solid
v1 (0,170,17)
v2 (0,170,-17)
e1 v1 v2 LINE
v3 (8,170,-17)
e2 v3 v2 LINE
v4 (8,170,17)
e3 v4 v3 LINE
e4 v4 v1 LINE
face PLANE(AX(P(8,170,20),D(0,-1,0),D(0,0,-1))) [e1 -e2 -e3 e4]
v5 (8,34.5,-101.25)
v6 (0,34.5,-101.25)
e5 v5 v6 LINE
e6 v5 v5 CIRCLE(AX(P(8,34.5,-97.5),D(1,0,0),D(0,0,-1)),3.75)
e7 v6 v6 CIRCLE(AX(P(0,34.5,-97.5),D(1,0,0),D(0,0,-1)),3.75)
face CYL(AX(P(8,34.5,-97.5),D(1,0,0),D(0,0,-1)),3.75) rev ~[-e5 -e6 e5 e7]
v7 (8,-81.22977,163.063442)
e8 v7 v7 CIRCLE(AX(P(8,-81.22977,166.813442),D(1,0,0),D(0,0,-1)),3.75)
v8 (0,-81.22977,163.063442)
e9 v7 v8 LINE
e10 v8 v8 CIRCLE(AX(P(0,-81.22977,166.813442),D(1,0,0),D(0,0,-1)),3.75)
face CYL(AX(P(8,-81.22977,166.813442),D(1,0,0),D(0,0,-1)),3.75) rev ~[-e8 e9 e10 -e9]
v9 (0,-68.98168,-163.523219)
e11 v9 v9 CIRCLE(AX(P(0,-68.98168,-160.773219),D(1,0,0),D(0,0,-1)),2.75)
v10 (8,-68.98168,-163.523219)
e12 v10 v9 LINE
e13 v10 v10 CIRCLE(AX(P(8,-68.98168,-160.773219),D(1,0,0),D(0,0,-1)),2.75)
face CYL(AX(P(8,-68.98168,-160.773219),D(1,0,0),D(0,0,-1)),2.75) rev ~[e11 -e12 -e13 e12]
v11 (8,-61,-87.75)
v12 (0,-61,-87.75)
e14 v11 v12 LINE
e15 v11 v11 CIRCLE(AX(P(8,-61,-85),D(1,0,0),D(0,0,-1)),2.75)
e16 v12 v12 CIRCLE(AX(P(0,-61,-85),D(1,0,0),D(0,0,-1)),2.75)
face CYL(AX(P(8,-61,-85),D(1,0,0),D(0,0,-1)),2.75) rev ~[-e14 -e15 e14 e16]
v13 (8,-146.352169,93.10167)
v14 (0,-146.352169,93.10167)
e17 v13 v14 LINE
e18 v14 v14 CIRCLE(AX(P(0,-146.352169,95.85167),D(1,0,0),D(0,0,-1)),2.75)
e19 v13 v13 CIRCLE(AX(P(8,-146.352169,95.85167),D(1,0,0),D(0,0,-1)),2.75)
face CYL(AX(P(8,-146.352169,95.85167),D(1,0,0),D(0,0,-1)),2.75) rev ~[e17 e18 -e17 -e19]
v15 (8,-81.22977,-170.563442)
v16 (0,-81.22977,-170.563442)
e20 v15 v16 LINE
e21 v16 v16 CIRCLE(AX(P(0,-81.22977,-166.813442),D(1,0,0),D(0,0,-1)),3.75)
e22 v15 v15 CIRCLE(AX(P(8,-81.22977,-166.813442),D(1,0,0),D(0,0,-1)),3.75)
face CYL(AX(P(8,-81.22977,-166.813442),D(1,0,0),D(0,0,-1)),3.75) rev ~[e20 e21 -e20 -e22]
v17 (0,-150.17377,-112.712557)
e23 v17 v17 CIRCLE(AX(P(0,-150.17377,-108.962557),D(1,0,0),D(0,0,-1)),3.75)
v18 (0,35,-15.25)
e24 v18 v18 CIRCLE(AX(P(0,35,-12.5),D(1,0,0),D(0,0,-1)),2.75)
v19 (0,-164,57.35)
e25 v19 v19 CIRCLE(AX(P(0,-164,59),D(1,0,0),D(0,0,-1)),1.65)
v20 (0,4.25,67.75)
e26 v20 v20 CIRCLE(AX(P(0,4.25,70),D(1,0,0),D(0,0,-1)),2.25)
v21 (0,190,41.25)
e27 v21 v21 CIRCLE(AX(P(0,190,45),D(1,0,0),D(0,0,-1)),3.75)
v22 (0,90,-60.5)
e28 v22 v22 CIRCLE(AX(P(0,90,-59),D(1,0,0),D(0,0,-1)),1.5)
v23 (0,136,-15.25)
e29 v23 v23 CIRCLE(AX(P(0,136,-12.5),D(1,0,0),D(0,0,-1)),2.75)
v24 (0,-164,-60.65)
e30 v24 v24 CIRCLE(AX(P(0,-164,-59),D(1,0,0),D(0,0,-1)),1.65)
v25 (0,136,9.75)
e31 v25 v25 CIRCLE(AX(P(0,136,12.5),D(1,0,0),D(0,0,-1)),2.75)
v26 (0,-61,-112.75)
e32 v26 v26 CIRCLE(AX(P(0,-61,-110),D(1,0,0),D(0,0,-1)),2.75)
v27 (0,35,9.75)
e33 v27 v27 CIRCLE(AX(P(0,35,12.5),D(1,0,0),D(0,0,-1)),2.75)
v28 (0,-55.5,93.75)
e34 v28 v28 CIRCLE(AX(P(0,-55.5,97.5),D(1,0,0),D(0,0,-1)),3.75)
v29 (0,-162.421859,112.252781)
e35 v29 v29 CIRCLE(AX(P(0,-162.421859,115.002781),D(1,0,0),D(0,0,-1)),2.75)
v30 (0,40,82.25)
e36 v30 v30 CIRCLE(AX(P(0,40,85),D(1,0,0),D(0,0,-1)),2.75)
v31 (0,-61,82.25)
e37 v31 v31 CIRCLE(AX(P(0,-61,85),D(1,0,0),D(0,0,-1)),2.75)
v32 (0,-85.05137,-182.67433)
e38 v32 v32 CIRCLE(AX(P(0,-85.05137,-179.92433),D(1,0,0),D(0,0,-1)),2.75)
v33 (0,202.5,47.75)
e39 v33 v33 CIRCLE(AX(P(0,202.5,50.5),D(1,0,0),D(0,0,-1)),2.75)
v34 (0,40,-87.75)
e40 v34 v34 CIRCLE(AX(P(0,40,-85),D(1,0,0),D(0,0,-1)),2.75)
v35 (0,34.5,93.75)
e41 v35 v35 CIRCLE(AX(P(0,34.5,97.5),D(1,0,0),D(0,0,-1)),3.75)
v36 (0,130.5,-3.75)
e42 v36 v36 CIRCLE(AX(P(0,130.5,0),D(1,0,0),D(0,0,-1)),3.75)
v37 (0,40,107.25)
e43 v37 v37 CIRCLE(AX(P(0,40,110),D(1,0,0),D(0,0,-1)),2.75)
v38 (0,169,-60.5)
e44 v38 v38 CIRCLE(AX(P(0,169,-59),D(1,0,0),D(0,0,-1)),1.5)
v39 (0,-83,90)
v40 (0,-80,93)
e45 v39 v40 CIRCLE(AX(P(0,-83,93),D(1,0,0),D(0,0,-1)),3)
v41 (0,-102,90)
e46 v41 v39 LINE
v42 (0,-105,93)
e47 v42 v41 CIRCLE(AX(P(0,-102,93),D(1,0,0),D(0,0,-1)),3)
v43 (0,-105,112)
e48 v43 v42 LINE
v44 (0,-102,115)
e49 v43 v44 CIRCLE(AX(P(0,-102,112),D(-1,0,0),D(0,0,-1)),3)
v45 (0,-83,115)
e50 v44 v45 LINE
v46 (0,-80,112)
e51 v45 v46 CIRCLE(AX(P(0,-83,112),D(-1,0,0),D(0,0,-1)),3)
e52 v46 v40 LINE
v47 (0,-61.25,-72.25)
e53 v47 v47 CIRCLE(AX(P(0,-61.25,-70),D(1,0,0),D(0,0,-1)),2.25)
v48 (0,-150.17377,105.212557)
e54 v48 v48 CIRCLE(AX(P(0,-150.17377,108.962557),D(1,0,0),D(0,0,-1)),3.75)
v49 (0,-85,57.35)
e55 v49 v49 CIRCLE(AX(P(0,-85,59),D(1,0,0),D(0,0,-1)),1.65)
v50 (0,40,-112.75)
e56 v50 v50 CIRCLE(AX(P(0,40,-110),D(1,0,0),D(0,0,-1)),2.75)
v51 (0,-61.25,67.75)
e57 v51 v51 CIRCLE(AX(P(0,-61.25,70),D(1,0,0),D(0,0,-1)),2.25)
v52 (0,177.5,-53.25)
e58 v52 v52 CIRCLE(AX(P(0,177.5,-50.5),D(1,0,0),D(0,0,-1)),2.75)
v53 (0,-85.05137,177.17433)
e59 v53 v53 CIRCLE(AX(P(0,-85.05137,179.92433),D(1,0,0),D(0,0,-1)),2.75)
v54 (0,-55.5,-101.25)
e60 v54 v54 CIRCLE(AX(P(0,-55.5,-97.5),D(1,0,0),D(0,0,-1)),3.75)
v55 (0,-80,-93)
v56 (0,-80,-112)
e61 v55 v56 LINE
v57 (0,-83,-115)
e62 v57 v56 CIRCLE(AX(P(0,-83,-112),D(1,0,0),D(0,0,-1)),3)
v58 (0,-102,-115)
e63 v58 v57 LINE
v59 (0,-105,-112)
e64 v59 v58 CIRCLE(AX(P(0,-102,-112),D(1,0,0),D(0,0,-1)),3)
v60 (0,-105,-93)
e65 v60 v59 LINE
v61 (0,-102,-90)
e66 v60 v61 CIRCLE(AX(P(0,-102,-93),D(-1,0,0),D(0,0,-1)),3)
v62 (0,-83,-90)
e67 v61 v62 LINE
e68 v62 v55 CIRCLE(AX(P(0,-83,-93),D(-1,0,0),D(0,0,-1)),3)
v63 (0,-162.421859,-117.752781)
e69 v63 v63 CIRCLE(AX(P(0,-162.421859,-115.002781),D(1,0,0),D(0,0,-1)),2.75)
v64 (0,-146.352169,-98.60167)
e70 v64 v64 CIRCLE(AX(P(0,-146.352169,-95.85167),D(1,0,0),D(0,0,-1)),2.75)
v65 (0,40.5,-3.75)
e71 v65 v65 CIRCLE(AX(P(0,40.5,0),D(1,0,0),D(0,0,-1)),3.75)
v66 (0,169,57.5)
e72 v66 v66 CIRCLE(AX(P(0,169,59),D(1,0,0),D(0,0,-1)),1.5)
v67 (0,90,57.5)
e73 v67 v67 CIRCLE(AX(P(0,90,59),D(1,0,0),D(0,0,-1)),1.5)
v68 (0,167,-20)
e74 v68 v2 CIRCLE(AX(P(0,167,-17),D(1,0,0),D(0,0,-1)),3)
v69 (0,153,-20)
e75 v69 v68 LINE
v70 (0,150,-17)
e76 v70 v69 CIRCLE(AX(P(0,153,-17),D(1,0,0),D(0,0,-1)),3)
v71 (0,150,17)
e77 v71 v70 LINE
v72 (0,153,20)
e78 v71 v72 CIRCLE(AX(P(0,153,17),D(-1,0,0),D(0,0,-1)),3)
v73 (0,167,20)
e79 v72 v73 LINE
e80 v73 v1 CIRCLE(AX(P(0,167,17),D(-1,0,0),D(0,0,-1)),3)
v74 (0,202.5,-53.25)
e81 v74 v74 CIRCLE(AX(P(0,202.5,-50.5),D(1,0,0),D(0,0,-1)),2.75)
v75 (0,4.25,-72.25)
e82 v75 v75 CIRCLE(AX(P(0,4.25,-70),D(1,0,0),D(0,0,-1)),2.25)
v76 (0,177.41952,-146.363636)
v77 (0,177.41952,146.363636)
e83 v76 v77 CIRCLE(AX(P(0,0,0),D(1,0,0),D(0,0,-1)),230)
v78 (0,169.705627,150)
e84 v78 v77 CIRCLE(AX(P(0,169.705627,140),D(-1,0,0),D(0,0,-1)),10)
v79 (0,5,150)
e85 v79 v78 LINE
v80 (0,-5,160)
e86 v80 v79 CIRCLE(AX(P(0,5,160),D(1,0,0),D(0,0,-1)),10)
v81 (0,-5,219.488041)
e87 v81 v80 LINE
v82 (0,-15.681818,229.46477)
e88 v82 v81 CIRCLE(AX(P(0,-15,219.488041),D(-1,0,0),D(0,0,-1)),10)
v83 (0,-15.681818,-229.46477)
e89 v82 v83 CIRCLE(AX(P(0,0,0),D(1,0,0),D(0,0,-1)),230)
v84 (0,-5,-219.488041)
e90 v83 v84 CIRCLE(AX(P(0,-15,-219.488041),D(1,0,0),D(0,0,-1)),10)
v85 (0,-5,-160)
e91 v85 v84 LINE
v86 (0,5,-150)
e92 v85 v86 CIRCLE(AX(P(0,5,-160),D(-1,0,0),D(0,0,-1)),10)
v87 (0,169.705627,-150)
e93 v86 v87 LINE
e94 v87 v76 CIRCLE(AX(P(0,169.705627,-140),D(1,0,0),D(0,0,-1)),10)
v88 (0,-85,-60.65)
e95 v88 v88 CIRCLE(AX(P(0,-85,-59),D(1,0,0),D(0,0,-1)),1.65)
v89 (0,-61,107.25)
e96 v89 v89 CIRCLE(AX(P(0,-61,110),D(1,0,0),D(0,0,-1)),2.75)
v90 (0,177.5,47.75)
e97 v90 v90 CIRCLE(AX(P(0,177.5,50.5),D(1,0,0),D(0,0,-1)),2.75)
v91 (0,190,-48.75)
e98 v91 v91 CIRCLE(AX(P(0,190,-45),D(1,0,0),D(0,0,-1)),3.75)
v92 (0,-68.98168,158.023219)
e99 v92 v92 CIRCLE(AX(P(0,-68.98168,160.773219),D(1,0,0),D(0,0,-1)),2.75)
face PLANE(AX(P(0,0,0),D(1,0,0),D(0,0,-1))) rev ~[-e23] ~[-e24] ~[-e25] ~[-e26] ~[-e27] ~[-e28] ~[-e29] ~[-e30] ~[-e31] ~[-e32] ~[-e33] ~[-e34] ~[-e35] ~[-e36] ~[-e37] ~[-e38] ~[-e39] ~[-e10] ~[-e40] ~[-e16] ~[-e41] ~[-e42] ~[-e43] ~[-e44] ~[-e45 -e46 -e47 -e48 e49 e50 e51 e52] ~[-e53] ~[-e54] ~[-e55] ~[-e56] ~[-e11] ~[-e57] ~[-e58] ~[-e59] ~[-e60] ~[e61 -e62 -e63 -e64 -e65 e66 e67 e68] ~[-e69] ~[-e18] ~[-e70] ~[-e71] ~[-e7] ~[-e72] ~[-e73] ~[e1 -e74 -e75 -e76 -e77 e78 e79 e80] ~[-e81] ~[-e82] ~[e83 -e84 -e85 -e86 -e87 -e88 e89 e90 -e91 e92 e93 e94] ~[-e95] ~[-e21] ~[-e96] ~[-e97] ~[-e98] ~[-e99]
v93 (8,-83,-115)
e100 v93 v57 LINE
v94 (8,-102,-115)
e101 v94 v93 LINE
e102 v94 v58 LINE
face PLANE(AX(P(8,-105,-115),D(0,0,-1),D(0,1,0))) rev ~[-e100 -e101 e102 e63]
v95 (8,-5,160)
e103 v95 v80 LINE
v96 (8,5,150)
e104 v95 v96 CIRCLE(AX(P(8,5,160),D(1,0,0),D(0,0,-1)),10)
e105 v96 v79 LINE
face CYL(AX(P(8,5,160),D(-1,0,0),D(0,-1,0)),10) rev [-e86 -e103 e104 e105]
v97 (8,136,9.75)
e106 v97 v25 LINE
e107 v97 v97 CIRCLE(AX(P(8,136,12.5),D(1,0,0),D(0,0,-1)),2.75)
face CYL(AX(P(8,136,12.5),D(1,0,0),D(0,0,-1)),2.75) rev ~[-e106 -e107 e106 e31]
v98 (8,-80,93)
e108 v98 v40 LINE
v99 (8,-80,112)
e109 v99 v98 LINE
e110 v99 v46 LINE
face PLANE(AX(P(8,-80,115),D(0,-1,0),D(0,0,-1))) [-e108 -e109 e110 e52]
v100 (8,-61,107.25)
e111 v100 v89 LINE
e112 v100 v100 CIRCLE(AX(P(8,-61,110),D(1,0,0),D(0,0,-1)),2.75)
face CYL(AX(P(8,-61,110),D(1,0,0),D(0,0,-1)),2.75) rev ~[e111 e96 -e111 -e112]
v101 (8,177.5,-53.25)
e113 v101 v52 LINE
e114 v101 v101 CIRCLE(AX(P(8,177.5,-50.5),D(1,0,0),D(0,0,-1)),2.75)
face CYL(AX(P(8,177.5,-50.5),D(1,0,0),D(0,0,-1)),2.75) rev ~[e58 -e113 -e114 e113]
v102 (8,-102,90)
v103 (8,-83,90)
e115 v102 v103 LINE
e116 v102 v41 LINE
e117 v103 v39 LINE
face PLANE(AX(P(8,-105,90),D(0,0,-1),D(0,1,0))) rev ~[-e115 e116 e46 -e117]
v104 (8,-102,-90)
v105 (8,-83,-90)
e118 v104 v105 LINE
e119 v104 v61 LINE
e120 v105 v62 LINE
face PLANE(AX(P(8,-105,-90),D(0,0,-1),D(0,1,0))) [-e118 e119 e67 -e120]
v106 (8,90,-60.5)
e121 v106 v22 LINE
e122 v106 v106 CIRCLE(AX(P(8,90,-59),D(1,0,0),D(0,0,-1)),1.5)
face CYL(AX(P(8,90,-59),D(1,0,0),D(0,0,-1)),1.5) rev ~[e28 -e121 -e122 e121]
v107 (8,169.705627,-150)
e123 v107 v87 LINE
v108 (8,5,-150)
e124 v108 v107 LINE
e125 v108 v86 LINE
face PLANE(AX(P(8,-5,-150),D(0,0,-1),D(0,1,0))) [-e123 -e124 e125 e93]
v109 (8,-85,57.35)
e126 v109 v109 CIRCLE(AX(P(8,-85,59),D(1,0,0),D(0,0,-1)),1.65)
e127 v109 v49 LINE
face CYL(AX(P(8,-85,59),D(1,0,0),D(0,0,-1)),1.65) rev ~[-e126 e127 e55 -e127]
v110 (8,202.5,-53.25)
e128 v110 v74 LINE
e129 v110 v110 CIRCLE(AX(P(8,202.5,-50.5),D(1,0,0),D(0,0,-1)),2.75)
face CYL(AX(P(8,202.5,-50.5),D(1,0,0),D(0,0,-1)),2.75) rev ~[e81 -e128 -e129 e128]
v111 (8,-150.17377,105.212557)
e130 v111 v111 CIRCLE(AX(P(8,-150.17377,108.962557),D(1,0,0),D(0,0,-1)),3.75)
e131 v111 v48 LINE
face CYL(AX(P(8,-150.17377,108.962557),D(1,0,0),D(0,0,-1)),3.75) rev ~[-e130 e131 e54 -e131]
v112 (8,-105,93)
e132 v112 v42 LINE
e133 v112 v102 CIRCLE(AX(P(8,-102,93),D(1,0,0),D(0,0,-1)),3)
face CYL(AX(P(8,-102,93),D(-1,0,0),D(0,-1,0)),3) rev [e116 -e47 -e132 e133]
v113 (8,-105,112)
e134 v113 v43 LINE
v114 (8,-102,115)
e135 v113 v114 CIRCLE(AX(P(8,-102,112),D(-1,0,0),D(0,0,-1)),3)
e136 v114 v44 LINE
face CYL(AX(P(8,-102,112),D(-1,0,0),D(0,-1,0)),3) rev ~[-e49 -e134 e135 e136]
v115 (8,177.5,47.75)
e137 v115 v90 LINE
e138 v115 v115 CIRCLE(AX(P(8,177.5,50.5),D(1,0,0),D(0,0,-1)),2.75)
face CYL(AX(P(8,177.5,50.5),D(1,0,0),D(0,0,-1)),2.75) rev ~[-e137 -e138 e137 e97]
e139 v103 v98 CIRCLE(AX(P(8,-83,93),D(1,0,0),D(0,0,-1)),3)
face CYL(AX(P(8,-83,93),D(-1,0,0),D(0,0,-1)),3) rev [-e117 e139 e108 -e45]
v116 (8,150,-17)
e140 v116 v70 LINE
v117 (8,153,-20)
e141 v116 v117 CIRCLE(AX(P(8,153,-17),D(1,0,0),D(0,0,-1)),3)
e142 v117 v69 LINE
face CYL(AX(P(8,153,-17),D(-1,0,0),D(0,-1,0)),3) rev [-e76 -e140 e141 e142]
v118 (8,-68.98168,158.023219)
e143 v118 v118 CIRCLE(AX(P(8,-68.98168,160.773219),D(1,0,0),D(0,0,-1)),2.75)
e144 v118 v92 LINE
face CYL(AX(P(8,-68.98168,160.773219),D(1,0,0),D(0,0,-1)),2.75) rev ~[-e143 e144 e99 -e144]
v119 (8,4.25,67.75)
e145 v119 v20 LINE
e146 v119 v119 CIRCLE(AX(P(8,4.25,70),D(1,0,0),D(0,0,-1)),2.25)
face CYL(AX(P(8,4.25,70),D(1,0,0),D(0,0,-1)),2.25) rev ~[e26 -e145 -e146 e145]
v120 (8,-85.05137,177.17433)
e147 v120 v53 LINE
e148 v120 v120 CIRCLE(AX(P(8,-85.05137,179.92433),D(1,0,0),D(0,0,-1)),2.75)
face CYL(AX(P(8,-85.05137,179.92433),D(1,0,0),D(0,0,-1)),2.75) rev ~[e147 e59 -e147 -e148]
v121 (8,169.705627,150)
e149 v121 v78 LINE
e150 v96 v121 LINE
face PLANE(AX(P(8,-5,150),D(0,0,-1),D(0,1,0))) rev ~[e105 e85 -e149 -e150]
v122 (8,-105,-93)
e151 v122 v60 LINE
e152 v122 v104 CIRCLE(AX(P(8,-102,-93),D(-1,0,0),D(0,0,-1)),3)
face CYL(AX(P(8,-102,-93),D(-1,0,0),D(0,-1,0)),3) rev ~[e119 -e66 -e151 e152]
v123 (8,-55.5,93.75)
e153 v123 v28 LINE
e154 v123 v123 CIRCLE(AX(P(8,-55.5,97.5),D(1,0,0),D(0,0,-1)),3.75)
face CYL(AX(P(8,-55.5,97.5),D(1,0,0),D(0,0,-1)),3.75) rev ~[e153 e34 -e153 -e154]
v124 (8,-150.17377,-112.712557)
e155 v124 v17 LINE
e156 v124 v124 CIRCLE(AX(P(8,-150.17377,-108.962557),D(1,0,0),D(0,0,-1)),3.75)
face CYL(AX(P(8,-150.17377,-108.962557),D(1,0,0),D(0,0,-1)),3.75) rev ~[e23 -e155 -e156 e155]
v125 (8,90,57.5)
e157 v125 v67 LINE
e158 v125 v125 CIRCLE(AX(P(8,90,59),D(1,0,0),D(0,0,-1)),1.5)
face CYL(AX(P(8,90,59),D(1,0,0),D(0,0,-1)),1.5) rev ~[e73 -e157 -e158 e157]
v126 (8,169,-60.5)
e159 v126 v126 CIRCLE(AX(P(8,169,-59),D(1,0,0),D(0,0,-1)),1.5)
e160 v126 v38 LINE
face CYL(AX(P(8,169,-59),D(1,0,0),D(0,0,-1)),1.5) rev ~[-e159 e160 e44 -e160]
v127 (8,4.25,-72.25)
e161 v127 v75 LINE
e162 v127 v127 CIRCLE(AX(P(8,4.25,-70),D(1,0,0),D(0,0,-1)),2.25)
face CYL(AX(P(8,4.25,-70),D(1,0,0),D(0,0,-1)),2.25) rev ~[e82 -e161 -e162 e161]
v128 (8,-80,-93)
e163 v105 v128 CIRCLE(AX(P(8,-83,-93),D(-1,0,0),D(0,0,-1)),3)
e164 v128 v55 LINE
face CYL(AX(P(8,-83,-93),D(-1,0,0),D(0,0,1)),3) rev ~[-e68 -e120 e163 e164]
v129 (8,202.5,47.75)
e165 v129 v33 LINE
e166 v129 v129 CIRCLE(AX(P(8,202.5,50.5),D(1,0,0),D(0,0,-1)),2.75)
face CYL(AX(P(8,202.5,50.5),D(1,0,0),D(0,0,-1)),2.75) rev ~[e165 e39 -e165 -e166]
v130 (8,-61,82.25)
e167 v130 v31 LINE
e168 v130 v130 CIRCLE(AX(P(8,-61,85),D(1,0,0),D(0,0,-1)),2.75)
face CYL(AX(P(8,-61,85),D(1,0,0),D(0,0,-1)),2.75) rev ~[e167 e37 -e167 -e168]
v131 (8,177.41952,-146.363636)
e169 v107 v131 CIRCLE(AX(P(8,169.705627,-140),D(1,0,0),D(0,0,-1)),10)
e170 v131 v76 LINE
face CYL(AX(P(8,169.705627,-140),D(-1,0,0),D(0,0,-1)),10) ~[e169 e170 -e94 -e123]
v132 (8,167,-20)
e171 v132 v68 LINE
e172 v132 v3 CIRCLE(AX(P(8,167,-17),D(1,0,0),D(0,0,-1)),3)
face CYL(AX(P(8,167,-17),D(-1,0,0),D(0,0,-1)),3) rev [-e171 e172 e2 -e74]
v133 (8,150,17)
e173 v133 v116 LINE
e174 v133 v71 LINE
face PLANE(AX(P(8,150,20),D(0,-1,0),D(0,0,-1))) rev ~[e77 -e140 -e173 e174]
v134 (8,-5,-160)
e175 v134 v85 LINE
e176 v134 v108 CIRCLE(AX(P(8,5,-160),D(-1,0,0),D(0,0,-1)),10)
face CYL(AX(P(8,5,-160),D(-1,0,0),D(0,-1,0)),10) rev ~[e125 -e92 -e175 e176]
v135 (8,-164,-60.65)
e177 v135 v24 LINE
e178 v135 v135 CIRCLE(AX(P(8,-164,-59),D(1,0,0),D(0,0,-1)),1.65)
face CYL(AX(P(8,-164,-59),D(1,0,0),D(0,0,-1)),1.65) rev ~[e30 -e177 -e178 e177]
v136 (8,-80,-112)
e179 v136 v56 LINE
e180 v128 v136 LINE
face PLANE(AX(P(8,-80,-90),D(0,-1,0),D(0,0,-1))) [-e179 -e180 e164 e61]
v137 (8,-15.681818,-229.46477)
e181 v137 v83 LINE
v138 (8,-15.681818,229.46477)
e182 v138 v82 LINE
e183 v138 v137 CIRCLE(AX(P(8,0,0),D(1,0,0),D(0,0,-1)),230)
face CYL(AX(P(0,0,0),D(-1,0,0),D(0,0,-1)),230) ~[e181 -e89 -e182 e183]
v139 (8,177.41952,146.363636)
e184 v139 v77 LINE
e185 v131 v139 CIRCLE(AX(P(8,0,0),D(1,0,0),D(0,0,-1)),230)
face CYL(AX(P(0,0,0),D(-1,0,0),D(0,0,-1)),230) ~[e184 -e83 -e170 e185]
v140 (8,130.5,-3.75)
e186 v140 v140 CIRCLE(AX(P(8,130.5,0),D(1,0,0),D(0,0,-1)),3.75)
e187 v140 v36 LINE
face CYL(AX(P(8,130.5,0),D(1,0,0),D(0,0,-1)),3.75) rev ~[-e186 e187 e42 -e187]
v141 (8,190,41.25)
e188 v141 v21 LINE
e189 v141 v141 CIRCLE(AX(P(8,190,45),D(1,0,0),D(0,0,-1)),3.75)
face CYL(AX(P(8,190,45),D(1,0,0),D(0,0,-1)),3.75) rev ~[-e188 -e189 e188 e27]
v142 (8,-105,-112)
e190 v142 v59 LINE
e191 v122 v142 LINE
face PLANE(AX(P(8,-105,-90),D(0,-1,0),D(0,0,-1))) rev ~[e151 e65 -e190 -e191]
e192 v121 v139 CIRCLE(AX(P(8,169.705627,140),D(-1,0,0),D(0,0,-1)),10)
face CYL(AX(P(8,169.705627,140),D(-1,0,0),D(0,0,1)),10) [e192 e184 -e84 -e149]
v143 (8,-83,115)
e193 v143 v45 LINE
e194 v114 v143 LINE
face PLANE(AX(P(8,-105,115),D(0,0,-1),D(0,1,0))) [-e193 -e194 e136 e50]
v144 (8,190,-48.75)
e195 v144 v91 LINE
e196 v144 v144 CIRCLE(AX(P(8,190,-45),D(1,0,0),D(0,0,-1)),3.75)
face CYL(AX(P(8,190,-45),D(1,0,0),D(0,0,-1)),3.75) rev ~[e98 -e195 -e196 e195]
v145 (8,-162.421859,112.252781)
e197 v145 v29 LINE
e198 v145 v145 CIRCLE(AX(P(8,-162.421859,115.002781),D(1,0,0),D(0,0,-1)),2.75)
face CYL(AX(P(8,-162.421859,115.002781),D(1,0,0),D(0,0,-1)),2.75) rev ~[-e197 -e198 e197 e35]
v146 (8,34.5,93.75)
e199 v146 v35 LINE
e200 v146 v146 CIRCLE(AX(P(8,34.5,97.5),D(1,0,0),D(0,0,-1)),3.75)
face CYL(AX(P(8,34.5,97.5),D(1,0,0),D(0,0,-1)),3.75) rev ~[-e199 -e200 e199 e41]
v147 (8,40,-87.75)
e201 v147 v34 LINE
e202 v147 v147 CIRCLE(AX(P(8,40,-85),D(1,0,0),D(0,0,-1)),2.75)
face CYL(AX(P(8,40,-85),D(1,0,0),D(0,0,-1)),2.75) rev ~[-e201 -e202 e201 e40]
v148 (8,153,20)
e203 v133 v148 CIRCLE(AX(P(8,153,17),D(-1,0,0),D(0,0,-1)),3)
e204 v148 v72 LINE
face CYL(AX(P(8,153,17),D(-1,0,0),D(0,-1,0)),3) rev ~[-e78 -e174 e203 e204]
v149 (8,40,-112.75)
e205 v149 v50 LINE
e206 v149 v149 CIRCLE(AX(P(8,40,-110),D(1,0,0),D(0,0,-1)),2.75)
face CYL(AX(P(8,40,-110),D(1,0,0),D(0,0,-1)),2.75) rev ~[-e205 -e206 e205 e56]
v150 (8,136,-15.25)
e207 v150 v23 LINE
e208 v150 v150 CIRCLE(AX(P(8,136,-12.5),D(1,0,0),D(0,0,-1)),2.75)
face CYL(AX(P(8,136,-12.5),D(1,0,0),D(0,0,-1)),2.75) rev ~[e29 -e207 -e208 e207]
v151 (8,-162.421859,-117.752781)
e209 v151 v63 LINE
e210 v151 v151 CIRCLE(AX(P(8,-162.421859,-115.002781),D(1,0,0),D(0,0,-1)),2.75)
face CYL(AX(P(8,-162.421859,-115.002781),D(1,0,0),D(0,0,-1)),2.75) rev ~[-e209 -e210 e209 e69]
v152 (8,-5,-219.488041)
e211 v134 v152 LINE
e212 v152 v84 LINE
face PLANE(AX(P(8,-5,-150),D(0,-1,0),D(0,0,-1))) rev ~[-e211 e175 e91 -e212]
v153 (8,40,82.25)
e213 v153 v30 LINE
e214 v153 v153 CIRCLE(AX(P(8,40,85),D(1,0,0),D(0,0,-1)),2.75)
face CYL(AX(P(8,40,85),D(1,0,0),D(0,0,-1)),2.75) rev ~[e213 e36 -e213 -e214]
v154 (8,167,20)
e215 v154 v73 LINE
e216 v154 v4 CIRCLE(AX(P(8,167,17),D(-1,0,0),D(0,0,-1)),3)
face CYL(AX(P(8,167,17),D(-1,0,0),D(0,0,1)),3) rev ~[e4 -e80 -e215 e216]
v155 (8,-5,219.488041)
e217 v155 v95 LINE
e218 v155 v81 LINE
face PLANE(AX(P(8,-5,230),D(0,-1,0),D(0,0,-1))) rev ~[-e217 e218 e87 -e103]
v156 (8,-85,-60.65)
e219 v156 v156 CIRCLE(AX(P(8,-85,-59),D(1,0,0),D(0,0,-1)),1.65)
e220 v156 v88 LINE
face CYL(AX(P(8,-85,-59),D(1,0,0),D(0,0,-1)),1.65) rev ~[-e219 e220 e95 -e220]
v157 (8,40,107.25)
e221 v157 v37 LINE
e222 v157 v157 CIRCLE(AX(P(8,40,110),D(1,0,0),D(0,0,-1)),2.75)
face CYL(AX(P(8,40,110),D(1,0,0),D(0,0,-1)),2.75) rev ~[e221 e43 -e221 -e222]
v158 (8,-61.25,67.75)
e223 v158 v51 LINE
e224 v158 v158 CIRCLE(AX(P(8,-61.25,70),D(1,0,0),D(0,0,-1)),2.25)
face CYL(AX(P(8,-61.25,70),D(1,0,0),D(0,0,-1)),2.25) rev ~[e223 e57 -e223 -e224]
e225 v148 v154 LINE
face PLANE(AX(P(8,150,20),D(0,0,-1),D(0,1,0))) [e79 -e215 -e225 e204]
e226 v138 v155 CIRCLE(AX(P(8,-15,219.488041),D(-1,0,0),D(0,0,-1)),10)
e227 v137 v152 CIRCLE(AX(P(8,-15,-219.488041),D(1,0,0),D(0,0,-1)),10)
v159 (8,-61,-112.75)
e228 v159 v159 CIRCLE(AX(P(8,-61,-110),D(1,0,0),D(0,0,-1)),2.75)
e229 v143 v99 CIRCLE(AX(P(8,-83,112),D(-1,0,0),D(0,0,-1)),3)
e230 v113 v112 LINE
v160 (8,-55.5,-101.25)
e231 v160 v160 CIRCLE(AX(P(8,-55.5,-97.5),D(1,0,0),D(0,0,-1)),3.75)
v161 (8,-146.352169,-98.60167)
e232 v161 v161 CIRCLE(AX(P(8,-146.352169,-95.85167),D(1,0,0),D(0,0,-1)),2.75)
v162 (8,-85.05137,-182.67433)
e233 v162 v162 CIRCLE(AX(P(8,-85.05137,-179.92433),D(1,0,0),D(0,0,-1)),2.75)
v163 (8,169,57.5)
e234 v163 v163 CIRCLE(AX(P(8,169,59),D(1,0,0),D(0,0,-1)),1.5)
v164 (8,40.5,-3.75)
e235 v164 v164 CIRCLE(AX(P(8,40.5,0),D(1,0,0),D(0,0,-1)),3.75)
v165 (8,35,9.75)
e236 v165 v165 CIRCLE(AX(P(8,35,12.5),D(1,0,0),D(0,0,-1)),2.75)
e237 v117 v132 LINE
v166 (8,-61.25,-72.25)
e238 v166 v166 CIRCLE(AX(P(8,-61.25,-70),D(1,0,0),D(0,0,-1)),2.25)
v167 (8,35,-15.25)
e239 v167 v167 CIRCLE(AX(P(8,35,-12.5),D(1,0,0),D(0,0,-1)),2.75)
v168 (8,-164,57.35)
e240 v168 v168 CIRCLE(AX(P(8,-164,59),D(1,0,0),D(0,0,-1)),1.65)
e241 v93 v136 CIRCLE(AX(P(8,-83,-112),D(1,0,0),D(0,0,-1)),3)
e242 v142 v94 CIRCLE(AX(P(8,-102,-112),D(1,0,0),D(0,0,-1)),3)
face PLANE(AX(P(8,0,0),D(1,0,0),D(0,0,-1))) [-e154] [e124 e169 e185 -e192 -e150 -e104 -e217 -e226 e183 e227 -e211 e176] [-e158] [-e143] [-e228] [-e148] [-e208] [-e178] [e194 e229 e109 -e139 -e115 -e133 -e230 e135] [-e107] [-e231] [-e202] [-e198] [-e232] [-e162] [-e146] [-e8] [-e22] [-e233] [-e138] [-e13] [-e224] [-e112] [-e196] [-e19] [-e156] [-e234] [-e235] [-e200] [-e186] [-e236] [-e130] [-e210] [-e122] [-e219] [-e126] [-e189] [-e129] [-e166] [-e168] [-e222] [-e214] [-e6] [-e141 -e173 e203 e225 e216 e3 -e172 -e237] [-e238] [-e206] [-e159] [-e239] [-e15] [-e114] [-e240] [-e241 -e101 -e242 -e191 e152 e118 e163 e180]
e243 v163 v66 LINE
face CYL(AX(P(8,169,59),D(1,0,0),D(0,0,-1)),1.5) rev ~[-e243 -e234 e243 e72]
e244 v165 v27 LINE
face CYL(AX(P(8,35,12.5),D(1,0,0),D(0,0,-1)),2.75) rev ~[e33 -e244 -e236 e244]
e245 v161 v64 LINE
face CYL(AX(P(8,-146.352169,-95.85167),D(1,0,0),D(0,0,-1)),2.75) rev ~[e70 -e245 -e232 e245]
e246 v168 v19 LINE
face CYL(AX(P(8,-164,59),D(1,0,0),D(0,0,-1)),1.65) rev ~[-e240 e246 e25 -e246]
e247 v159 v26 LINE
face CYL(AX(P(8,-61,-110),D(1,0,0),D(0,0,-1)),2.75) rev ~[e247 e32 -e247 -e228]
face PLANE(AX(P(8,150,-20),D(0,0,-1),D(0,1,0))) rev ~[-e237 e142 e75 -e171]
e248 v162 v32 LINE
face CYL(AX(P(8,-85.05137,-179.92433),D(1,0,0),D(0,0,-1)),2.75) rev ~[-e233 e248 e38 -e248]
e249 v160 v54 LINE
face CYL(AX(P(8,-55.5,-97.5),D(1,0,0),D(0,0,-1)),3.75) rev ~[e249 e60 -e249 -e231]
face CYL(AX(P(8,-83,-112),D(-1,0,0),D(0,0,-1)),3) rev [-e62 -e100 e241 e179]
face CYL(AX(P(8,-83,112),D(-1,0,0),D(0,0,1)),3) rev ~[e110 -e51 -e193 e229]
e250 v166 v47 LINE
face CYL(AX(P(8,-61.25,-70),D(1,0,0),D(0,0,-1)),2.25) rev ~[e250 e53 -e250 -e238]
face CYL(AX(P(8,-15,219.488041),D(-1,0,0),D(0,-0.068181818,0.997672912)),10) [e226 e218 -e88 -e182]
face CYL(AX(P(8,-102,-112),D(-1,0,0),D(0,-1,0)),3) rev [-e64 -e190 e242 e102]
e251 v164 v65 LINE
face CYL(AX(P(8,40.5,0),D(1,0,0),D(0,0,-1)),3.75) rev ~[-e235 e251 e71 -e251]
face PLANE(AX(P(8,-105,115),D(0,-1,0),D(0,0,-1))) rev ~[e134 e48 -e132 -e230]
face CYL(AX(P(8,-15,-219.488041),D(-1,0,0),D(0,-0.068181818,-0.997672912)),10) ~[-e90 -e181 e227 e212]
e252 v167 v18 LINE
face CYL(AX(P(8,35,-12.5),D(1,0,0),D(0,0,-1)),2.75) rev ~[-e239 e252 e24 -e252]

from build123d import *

# Parameters (mm, degrees)
SKETCH_1_R          = 230
EXTRUDE_1_DEPTH     = 8
SKETCH_3_W          = 80
SKETCH_3_H          = 200
CUT_EXTRUDE_1_DEPTH = 10
SKETCH_4_R          = 3.75
SKETCH_4_R_2        = 2.75
CUT_EXTRUDE_2_DEPTH = 10
SKETCH_6_W          = 40
SKETCH_6_H          = 20
SKETCH_6_W_2        = 25
SKETCH_6_H_2        = 25
CUT_EXTRUDE_4_DEPTH = 10
FILLET_2_R          = 10
FILLET_3_R          = 10
FILLET_4_R          = 10
SKETCH_7_R          = 2.75
SKETCH_7_R_2        = 3.75
CUT_EXTRUDE_5_DEPTH = 10
SKETCH_8_R          = 1.5
CUT_EXTRUDE_6_DEPTH = 326.005785815
SKETCH_9_R          = 2.25
CUT_EXTRUDE_7_DEPTH = 11
FILLET_5_R          = 3
SKETCH_10_R         = 1.65
CUT_EXTRUDE_8_DEPTH = 10


with BuildPart() as part:
    # 草图1 → 凸台-拉伸1 (new body)
    with BuildSketch(Plane(origin=(0, 0, 0), x_dir=(0, 0, -1), z_dir=(1, 0, 0))):
        Circle(SKETCH_1_R)
    extrude(amount=EXTRUDE_1_DEPTH)

    # 草图3 → 切除-拉伸1 (cut)
    with BuildSketch(Plane(origin=(8, 0, 0), x_dir=(0, 0, -1), z_dir=(1, 0, 0))):
        with Locations((190, 95)):
            Rectangle(SKETCH_3_W, SKETCH_3_H)
        with Locations((-190, 95)):
            Rectangle(SKETCH_3_W, SKETCH_3_H)
    extrude(amount=-CUT_EXTRUDE_1_DEPTH, mode=Mode.SUBTRACT)

    # 草图4 → 切除-拉伸2 (cut)
    with BuildSketch(Plane(origin=(8, 0, 0), x_dir=(0, 0, -1), z_dir=(1, 0, 0))):
        with Locations((166.813442197, -81.229769803)):
            Circle(SKETCH_4_R)
        with Locations((108.962557326, -150.173769684)):
            Circle(SKETCH_4_R)
        with Locations((-108.962557326, -150.173769684)):
            Circle(SKETCH_4_R)
        with Locations((-166.813442197, -81.229769803)):
            Circle(SKETCH_4_R)
        with Locations((-45, 190)):
            Circle(SKETCH_4_R)
        with Locations((45, 190)):
            Circle(SKETCH_4_R)
        with Locations((-12.5, 35)):
            Circle(SKETCH_4_R_2)
        with Locations((12.5, 35)):
            Circle(SKETCH_4_R_2)
        with Locations((-50.5, 202.5)):
            Circle(SKETCH_4_R_2)
        with Locations((50.5, 202.5)):
            Circle(SKETCH_4_R_2)
        with Locations((-50.5, 177.5)):
            Circle(SKETCH_4_R_2)
        with Locations((50.5, 177.5)):
            Circle(SKETCH_4_R_2)
        with Locations((179.92432959, -85.051370487)):
            Circle(SKETCH_4_R_2)
        with Locations((115.002781011, -162.421859242)):
            Circle(SKETCH_4_R_2)
        with Locations((160.773218512, -68.981680245)):
            Circle(SKETCH_4_R_2)
        with Locations((95.851669933, -146.352169)):
            Circle(SKETCH_4_R_2)
        with Locations((-160.773218512, -68.981680245)):
            Circle(SKETCH_4_R_2)
        with Locations((-179.92432959, -85.051370487)):
            Circle(SKETCH_4_R_2)
        with Locations((-95.851669933, -146.352169)):
            Circle(SKETCH_4_R_2)
        with Locations((-115.002781011, -162.421859242)):
            Circle(SKETCH_4_R_2)
        with Locations((12.5, 136)):
            Circle(SKETCH_4_R_2)
        with Locations((-12.5, 136)):
            Circle(SKETCH_4_R_2)
        with Locations((0, 130.5)):
            Circle(SKETCH_4_R)
        with Locations((0, 40.5)):
            Circle(SKETCH_4_R)
    extrude(amount=-CUT_EXTRUDE_2_DEPTH, mode=Mode.SUBTRACT)

    # 草图6 → 切除-拉伸4 (cut)
    with BuildSketch(Plane(origin=(8, 0, 0), x_dir=(0, 0, -1), z_dir=(1, 0, 0))):
        with Locations((0, 160)):
            Rectangle(SKETCH_6_W, SKETCH_6_H)
        with Locations((-102.5, -92.5)):
            Rectangle(SKETCH_6_W_2, SKETCH_6_H_2)
        with Locations((102.5, -92.5)):
            Rectangle(SKETCH_6_W_2, SKETCH_6_H_2)
    extrude(amount=-CUT_EXTRUDE_4_DEPTH, mode=Mode.SUBTRACT)

    # 圆角2
    fillet_2_edges = [part.edges().sort_by_distance(p)[0] for p in [
        (4, -5, 229.945645751),
    ]]
    fillet(fillet_2_edges, radius=FILLET_2_R)

    # 圆角3
    fillet_3_edges = [part.edges().sort_by_distance(p)[0] for p in [
        (4, 174.355957742, -150),
        (4, -5, -229.945645751),
        (4, 174.355957742, 150),
    ]]
    fillet(fillet_3_edges, radius=FILLET_3_R)

    # 圆角4
    fillet_4_edges = [part.edges().sort_by_distance(p)[0] for p in [
        (4, -5, -150),
        (4, -5, 150),
    ]]
    fillet(fillet_4_edges, radius=FILLET_4_R)

    # 草图7 → 切除-拉伸5 (cut)
    with BuildSketch(Plane(origin=(8, 0, 0), x_dir=(0, 0, -1), z_dir=(1, 0, 0))):
        with Locations((85, 40)):
            Circle(SKETCH_7_R)
        with Locations((110, 40)):
            Circle(SKETCH_7_R)
        with Locations((85, -61)):
            Circle(SKETCH_7_R)
        with Locations((110, -61)):
            Circle(SKETCH_7_R)
        with Locations((97.5, 34.5)):
            Circle(SKETCH_7_R_2)
        with Locations((97.5, -55.5)):
            Circle(SKETCH_7_R_2)
        with Locations((-97.5, -55.5)):
            Circle(SKETCH_7_R_2)
        with Locations((-97.5, 34.5)):
            Circle(SKETCH_7_R_2)
        with Locations((-110, -61)):
            Circle(SKETCH_7_R)
        with Locations((-85, -61)):
            Circle(SKETCH_7_R)
        with Locations((-110, 40)):
            Circle(SKETCH_7_R)
        with Locations((-85, 40)):
            Circle(SKETCH_7_R)
    extrude(amount=-CUT_EXTRUDE_5_DEPTH, mode=Mode.SUBTRACT)

    # 草图8 → 切除-拉伸6 (cut, through all)
    with BuildSketch(Plane(origin=(8, 0, 0), x_dir=(0, 0, -1), z_dir=(1, 0, 0))):
        with Locations((-59, 169)):
            Circle(SKETCH_8_R)
        with Locations((-59, 90)):
            Circle(SKETCH_8_R)
        with Locations((59, 169)):
            Circle(SKETCH_8_R)
        with Locations((59, 90)):
            Circle(SKETCH_8_R)
    extrude(amount=-CUT_EXTRUDE_6_DEPTH, mode=Mode.SUBTRACT)

    # 草图9 → 切除-拉伸7 (cut)
    with BuildSketch(Plane(origin=(8, 0, 0), x_dir=(0, 0, -1), z_dir=(1, 0, 0))):
        with Locations((70, 4.25)):
            Circle(SKETCH_9_R)
        with Locations((70, -61.25)):
            Circle(SKETCH_9_R)
        with Locations((-70, 4.25)):
            Circle(SKETCH_9_R)
        with Locations((-70, -61.25)):
            Circle(SKETCH_9_R)
    extrude(amount=-CUT_EXTRUDE_7_DEPTH, mode=Mode.SUBTRACT)

    # 圆角5
    fillet_5_edges = [part.edges().sort_by_distance(p)[0] for p in [
        (4, -105, 115),
        (4, -80, 115),
        (4, -80, 90),
        (4, -105, 90),
        (4, 150, 20),
        (4, 170, 20),
        (4, 170, -20),
        (4, 150, -20),
        (4, -105, -90),
        (4, -80, -90),
        (4, -80, -115),
        (4, -105, -115),
    ]]
    fillet(fillet_5_edges, radius=FILLET_5_R)

    # 草图10 → 切除-拉伸8 (cut)
    with BuildSketch(Plane(origin=(8, 0, 0), x_dir=(0, 0, -1), z_dir=(1, 0, 0))):
        with Locations((-59, -85)):
            Circle(SKETCH_10_R)
        with Locations((59, -85)):
            Circle(SKETCH_10_R)
        with Locations((59, -164)):
            Circle(SKETCH_10_R)
        with Locations((-59, -164)):
            Circle(SKETCH_10_R)
    extrude(amount=-CUT_EXTRUDE_8_DEPTH, mode=Mode.SUBTRACT)


solid = part.part
